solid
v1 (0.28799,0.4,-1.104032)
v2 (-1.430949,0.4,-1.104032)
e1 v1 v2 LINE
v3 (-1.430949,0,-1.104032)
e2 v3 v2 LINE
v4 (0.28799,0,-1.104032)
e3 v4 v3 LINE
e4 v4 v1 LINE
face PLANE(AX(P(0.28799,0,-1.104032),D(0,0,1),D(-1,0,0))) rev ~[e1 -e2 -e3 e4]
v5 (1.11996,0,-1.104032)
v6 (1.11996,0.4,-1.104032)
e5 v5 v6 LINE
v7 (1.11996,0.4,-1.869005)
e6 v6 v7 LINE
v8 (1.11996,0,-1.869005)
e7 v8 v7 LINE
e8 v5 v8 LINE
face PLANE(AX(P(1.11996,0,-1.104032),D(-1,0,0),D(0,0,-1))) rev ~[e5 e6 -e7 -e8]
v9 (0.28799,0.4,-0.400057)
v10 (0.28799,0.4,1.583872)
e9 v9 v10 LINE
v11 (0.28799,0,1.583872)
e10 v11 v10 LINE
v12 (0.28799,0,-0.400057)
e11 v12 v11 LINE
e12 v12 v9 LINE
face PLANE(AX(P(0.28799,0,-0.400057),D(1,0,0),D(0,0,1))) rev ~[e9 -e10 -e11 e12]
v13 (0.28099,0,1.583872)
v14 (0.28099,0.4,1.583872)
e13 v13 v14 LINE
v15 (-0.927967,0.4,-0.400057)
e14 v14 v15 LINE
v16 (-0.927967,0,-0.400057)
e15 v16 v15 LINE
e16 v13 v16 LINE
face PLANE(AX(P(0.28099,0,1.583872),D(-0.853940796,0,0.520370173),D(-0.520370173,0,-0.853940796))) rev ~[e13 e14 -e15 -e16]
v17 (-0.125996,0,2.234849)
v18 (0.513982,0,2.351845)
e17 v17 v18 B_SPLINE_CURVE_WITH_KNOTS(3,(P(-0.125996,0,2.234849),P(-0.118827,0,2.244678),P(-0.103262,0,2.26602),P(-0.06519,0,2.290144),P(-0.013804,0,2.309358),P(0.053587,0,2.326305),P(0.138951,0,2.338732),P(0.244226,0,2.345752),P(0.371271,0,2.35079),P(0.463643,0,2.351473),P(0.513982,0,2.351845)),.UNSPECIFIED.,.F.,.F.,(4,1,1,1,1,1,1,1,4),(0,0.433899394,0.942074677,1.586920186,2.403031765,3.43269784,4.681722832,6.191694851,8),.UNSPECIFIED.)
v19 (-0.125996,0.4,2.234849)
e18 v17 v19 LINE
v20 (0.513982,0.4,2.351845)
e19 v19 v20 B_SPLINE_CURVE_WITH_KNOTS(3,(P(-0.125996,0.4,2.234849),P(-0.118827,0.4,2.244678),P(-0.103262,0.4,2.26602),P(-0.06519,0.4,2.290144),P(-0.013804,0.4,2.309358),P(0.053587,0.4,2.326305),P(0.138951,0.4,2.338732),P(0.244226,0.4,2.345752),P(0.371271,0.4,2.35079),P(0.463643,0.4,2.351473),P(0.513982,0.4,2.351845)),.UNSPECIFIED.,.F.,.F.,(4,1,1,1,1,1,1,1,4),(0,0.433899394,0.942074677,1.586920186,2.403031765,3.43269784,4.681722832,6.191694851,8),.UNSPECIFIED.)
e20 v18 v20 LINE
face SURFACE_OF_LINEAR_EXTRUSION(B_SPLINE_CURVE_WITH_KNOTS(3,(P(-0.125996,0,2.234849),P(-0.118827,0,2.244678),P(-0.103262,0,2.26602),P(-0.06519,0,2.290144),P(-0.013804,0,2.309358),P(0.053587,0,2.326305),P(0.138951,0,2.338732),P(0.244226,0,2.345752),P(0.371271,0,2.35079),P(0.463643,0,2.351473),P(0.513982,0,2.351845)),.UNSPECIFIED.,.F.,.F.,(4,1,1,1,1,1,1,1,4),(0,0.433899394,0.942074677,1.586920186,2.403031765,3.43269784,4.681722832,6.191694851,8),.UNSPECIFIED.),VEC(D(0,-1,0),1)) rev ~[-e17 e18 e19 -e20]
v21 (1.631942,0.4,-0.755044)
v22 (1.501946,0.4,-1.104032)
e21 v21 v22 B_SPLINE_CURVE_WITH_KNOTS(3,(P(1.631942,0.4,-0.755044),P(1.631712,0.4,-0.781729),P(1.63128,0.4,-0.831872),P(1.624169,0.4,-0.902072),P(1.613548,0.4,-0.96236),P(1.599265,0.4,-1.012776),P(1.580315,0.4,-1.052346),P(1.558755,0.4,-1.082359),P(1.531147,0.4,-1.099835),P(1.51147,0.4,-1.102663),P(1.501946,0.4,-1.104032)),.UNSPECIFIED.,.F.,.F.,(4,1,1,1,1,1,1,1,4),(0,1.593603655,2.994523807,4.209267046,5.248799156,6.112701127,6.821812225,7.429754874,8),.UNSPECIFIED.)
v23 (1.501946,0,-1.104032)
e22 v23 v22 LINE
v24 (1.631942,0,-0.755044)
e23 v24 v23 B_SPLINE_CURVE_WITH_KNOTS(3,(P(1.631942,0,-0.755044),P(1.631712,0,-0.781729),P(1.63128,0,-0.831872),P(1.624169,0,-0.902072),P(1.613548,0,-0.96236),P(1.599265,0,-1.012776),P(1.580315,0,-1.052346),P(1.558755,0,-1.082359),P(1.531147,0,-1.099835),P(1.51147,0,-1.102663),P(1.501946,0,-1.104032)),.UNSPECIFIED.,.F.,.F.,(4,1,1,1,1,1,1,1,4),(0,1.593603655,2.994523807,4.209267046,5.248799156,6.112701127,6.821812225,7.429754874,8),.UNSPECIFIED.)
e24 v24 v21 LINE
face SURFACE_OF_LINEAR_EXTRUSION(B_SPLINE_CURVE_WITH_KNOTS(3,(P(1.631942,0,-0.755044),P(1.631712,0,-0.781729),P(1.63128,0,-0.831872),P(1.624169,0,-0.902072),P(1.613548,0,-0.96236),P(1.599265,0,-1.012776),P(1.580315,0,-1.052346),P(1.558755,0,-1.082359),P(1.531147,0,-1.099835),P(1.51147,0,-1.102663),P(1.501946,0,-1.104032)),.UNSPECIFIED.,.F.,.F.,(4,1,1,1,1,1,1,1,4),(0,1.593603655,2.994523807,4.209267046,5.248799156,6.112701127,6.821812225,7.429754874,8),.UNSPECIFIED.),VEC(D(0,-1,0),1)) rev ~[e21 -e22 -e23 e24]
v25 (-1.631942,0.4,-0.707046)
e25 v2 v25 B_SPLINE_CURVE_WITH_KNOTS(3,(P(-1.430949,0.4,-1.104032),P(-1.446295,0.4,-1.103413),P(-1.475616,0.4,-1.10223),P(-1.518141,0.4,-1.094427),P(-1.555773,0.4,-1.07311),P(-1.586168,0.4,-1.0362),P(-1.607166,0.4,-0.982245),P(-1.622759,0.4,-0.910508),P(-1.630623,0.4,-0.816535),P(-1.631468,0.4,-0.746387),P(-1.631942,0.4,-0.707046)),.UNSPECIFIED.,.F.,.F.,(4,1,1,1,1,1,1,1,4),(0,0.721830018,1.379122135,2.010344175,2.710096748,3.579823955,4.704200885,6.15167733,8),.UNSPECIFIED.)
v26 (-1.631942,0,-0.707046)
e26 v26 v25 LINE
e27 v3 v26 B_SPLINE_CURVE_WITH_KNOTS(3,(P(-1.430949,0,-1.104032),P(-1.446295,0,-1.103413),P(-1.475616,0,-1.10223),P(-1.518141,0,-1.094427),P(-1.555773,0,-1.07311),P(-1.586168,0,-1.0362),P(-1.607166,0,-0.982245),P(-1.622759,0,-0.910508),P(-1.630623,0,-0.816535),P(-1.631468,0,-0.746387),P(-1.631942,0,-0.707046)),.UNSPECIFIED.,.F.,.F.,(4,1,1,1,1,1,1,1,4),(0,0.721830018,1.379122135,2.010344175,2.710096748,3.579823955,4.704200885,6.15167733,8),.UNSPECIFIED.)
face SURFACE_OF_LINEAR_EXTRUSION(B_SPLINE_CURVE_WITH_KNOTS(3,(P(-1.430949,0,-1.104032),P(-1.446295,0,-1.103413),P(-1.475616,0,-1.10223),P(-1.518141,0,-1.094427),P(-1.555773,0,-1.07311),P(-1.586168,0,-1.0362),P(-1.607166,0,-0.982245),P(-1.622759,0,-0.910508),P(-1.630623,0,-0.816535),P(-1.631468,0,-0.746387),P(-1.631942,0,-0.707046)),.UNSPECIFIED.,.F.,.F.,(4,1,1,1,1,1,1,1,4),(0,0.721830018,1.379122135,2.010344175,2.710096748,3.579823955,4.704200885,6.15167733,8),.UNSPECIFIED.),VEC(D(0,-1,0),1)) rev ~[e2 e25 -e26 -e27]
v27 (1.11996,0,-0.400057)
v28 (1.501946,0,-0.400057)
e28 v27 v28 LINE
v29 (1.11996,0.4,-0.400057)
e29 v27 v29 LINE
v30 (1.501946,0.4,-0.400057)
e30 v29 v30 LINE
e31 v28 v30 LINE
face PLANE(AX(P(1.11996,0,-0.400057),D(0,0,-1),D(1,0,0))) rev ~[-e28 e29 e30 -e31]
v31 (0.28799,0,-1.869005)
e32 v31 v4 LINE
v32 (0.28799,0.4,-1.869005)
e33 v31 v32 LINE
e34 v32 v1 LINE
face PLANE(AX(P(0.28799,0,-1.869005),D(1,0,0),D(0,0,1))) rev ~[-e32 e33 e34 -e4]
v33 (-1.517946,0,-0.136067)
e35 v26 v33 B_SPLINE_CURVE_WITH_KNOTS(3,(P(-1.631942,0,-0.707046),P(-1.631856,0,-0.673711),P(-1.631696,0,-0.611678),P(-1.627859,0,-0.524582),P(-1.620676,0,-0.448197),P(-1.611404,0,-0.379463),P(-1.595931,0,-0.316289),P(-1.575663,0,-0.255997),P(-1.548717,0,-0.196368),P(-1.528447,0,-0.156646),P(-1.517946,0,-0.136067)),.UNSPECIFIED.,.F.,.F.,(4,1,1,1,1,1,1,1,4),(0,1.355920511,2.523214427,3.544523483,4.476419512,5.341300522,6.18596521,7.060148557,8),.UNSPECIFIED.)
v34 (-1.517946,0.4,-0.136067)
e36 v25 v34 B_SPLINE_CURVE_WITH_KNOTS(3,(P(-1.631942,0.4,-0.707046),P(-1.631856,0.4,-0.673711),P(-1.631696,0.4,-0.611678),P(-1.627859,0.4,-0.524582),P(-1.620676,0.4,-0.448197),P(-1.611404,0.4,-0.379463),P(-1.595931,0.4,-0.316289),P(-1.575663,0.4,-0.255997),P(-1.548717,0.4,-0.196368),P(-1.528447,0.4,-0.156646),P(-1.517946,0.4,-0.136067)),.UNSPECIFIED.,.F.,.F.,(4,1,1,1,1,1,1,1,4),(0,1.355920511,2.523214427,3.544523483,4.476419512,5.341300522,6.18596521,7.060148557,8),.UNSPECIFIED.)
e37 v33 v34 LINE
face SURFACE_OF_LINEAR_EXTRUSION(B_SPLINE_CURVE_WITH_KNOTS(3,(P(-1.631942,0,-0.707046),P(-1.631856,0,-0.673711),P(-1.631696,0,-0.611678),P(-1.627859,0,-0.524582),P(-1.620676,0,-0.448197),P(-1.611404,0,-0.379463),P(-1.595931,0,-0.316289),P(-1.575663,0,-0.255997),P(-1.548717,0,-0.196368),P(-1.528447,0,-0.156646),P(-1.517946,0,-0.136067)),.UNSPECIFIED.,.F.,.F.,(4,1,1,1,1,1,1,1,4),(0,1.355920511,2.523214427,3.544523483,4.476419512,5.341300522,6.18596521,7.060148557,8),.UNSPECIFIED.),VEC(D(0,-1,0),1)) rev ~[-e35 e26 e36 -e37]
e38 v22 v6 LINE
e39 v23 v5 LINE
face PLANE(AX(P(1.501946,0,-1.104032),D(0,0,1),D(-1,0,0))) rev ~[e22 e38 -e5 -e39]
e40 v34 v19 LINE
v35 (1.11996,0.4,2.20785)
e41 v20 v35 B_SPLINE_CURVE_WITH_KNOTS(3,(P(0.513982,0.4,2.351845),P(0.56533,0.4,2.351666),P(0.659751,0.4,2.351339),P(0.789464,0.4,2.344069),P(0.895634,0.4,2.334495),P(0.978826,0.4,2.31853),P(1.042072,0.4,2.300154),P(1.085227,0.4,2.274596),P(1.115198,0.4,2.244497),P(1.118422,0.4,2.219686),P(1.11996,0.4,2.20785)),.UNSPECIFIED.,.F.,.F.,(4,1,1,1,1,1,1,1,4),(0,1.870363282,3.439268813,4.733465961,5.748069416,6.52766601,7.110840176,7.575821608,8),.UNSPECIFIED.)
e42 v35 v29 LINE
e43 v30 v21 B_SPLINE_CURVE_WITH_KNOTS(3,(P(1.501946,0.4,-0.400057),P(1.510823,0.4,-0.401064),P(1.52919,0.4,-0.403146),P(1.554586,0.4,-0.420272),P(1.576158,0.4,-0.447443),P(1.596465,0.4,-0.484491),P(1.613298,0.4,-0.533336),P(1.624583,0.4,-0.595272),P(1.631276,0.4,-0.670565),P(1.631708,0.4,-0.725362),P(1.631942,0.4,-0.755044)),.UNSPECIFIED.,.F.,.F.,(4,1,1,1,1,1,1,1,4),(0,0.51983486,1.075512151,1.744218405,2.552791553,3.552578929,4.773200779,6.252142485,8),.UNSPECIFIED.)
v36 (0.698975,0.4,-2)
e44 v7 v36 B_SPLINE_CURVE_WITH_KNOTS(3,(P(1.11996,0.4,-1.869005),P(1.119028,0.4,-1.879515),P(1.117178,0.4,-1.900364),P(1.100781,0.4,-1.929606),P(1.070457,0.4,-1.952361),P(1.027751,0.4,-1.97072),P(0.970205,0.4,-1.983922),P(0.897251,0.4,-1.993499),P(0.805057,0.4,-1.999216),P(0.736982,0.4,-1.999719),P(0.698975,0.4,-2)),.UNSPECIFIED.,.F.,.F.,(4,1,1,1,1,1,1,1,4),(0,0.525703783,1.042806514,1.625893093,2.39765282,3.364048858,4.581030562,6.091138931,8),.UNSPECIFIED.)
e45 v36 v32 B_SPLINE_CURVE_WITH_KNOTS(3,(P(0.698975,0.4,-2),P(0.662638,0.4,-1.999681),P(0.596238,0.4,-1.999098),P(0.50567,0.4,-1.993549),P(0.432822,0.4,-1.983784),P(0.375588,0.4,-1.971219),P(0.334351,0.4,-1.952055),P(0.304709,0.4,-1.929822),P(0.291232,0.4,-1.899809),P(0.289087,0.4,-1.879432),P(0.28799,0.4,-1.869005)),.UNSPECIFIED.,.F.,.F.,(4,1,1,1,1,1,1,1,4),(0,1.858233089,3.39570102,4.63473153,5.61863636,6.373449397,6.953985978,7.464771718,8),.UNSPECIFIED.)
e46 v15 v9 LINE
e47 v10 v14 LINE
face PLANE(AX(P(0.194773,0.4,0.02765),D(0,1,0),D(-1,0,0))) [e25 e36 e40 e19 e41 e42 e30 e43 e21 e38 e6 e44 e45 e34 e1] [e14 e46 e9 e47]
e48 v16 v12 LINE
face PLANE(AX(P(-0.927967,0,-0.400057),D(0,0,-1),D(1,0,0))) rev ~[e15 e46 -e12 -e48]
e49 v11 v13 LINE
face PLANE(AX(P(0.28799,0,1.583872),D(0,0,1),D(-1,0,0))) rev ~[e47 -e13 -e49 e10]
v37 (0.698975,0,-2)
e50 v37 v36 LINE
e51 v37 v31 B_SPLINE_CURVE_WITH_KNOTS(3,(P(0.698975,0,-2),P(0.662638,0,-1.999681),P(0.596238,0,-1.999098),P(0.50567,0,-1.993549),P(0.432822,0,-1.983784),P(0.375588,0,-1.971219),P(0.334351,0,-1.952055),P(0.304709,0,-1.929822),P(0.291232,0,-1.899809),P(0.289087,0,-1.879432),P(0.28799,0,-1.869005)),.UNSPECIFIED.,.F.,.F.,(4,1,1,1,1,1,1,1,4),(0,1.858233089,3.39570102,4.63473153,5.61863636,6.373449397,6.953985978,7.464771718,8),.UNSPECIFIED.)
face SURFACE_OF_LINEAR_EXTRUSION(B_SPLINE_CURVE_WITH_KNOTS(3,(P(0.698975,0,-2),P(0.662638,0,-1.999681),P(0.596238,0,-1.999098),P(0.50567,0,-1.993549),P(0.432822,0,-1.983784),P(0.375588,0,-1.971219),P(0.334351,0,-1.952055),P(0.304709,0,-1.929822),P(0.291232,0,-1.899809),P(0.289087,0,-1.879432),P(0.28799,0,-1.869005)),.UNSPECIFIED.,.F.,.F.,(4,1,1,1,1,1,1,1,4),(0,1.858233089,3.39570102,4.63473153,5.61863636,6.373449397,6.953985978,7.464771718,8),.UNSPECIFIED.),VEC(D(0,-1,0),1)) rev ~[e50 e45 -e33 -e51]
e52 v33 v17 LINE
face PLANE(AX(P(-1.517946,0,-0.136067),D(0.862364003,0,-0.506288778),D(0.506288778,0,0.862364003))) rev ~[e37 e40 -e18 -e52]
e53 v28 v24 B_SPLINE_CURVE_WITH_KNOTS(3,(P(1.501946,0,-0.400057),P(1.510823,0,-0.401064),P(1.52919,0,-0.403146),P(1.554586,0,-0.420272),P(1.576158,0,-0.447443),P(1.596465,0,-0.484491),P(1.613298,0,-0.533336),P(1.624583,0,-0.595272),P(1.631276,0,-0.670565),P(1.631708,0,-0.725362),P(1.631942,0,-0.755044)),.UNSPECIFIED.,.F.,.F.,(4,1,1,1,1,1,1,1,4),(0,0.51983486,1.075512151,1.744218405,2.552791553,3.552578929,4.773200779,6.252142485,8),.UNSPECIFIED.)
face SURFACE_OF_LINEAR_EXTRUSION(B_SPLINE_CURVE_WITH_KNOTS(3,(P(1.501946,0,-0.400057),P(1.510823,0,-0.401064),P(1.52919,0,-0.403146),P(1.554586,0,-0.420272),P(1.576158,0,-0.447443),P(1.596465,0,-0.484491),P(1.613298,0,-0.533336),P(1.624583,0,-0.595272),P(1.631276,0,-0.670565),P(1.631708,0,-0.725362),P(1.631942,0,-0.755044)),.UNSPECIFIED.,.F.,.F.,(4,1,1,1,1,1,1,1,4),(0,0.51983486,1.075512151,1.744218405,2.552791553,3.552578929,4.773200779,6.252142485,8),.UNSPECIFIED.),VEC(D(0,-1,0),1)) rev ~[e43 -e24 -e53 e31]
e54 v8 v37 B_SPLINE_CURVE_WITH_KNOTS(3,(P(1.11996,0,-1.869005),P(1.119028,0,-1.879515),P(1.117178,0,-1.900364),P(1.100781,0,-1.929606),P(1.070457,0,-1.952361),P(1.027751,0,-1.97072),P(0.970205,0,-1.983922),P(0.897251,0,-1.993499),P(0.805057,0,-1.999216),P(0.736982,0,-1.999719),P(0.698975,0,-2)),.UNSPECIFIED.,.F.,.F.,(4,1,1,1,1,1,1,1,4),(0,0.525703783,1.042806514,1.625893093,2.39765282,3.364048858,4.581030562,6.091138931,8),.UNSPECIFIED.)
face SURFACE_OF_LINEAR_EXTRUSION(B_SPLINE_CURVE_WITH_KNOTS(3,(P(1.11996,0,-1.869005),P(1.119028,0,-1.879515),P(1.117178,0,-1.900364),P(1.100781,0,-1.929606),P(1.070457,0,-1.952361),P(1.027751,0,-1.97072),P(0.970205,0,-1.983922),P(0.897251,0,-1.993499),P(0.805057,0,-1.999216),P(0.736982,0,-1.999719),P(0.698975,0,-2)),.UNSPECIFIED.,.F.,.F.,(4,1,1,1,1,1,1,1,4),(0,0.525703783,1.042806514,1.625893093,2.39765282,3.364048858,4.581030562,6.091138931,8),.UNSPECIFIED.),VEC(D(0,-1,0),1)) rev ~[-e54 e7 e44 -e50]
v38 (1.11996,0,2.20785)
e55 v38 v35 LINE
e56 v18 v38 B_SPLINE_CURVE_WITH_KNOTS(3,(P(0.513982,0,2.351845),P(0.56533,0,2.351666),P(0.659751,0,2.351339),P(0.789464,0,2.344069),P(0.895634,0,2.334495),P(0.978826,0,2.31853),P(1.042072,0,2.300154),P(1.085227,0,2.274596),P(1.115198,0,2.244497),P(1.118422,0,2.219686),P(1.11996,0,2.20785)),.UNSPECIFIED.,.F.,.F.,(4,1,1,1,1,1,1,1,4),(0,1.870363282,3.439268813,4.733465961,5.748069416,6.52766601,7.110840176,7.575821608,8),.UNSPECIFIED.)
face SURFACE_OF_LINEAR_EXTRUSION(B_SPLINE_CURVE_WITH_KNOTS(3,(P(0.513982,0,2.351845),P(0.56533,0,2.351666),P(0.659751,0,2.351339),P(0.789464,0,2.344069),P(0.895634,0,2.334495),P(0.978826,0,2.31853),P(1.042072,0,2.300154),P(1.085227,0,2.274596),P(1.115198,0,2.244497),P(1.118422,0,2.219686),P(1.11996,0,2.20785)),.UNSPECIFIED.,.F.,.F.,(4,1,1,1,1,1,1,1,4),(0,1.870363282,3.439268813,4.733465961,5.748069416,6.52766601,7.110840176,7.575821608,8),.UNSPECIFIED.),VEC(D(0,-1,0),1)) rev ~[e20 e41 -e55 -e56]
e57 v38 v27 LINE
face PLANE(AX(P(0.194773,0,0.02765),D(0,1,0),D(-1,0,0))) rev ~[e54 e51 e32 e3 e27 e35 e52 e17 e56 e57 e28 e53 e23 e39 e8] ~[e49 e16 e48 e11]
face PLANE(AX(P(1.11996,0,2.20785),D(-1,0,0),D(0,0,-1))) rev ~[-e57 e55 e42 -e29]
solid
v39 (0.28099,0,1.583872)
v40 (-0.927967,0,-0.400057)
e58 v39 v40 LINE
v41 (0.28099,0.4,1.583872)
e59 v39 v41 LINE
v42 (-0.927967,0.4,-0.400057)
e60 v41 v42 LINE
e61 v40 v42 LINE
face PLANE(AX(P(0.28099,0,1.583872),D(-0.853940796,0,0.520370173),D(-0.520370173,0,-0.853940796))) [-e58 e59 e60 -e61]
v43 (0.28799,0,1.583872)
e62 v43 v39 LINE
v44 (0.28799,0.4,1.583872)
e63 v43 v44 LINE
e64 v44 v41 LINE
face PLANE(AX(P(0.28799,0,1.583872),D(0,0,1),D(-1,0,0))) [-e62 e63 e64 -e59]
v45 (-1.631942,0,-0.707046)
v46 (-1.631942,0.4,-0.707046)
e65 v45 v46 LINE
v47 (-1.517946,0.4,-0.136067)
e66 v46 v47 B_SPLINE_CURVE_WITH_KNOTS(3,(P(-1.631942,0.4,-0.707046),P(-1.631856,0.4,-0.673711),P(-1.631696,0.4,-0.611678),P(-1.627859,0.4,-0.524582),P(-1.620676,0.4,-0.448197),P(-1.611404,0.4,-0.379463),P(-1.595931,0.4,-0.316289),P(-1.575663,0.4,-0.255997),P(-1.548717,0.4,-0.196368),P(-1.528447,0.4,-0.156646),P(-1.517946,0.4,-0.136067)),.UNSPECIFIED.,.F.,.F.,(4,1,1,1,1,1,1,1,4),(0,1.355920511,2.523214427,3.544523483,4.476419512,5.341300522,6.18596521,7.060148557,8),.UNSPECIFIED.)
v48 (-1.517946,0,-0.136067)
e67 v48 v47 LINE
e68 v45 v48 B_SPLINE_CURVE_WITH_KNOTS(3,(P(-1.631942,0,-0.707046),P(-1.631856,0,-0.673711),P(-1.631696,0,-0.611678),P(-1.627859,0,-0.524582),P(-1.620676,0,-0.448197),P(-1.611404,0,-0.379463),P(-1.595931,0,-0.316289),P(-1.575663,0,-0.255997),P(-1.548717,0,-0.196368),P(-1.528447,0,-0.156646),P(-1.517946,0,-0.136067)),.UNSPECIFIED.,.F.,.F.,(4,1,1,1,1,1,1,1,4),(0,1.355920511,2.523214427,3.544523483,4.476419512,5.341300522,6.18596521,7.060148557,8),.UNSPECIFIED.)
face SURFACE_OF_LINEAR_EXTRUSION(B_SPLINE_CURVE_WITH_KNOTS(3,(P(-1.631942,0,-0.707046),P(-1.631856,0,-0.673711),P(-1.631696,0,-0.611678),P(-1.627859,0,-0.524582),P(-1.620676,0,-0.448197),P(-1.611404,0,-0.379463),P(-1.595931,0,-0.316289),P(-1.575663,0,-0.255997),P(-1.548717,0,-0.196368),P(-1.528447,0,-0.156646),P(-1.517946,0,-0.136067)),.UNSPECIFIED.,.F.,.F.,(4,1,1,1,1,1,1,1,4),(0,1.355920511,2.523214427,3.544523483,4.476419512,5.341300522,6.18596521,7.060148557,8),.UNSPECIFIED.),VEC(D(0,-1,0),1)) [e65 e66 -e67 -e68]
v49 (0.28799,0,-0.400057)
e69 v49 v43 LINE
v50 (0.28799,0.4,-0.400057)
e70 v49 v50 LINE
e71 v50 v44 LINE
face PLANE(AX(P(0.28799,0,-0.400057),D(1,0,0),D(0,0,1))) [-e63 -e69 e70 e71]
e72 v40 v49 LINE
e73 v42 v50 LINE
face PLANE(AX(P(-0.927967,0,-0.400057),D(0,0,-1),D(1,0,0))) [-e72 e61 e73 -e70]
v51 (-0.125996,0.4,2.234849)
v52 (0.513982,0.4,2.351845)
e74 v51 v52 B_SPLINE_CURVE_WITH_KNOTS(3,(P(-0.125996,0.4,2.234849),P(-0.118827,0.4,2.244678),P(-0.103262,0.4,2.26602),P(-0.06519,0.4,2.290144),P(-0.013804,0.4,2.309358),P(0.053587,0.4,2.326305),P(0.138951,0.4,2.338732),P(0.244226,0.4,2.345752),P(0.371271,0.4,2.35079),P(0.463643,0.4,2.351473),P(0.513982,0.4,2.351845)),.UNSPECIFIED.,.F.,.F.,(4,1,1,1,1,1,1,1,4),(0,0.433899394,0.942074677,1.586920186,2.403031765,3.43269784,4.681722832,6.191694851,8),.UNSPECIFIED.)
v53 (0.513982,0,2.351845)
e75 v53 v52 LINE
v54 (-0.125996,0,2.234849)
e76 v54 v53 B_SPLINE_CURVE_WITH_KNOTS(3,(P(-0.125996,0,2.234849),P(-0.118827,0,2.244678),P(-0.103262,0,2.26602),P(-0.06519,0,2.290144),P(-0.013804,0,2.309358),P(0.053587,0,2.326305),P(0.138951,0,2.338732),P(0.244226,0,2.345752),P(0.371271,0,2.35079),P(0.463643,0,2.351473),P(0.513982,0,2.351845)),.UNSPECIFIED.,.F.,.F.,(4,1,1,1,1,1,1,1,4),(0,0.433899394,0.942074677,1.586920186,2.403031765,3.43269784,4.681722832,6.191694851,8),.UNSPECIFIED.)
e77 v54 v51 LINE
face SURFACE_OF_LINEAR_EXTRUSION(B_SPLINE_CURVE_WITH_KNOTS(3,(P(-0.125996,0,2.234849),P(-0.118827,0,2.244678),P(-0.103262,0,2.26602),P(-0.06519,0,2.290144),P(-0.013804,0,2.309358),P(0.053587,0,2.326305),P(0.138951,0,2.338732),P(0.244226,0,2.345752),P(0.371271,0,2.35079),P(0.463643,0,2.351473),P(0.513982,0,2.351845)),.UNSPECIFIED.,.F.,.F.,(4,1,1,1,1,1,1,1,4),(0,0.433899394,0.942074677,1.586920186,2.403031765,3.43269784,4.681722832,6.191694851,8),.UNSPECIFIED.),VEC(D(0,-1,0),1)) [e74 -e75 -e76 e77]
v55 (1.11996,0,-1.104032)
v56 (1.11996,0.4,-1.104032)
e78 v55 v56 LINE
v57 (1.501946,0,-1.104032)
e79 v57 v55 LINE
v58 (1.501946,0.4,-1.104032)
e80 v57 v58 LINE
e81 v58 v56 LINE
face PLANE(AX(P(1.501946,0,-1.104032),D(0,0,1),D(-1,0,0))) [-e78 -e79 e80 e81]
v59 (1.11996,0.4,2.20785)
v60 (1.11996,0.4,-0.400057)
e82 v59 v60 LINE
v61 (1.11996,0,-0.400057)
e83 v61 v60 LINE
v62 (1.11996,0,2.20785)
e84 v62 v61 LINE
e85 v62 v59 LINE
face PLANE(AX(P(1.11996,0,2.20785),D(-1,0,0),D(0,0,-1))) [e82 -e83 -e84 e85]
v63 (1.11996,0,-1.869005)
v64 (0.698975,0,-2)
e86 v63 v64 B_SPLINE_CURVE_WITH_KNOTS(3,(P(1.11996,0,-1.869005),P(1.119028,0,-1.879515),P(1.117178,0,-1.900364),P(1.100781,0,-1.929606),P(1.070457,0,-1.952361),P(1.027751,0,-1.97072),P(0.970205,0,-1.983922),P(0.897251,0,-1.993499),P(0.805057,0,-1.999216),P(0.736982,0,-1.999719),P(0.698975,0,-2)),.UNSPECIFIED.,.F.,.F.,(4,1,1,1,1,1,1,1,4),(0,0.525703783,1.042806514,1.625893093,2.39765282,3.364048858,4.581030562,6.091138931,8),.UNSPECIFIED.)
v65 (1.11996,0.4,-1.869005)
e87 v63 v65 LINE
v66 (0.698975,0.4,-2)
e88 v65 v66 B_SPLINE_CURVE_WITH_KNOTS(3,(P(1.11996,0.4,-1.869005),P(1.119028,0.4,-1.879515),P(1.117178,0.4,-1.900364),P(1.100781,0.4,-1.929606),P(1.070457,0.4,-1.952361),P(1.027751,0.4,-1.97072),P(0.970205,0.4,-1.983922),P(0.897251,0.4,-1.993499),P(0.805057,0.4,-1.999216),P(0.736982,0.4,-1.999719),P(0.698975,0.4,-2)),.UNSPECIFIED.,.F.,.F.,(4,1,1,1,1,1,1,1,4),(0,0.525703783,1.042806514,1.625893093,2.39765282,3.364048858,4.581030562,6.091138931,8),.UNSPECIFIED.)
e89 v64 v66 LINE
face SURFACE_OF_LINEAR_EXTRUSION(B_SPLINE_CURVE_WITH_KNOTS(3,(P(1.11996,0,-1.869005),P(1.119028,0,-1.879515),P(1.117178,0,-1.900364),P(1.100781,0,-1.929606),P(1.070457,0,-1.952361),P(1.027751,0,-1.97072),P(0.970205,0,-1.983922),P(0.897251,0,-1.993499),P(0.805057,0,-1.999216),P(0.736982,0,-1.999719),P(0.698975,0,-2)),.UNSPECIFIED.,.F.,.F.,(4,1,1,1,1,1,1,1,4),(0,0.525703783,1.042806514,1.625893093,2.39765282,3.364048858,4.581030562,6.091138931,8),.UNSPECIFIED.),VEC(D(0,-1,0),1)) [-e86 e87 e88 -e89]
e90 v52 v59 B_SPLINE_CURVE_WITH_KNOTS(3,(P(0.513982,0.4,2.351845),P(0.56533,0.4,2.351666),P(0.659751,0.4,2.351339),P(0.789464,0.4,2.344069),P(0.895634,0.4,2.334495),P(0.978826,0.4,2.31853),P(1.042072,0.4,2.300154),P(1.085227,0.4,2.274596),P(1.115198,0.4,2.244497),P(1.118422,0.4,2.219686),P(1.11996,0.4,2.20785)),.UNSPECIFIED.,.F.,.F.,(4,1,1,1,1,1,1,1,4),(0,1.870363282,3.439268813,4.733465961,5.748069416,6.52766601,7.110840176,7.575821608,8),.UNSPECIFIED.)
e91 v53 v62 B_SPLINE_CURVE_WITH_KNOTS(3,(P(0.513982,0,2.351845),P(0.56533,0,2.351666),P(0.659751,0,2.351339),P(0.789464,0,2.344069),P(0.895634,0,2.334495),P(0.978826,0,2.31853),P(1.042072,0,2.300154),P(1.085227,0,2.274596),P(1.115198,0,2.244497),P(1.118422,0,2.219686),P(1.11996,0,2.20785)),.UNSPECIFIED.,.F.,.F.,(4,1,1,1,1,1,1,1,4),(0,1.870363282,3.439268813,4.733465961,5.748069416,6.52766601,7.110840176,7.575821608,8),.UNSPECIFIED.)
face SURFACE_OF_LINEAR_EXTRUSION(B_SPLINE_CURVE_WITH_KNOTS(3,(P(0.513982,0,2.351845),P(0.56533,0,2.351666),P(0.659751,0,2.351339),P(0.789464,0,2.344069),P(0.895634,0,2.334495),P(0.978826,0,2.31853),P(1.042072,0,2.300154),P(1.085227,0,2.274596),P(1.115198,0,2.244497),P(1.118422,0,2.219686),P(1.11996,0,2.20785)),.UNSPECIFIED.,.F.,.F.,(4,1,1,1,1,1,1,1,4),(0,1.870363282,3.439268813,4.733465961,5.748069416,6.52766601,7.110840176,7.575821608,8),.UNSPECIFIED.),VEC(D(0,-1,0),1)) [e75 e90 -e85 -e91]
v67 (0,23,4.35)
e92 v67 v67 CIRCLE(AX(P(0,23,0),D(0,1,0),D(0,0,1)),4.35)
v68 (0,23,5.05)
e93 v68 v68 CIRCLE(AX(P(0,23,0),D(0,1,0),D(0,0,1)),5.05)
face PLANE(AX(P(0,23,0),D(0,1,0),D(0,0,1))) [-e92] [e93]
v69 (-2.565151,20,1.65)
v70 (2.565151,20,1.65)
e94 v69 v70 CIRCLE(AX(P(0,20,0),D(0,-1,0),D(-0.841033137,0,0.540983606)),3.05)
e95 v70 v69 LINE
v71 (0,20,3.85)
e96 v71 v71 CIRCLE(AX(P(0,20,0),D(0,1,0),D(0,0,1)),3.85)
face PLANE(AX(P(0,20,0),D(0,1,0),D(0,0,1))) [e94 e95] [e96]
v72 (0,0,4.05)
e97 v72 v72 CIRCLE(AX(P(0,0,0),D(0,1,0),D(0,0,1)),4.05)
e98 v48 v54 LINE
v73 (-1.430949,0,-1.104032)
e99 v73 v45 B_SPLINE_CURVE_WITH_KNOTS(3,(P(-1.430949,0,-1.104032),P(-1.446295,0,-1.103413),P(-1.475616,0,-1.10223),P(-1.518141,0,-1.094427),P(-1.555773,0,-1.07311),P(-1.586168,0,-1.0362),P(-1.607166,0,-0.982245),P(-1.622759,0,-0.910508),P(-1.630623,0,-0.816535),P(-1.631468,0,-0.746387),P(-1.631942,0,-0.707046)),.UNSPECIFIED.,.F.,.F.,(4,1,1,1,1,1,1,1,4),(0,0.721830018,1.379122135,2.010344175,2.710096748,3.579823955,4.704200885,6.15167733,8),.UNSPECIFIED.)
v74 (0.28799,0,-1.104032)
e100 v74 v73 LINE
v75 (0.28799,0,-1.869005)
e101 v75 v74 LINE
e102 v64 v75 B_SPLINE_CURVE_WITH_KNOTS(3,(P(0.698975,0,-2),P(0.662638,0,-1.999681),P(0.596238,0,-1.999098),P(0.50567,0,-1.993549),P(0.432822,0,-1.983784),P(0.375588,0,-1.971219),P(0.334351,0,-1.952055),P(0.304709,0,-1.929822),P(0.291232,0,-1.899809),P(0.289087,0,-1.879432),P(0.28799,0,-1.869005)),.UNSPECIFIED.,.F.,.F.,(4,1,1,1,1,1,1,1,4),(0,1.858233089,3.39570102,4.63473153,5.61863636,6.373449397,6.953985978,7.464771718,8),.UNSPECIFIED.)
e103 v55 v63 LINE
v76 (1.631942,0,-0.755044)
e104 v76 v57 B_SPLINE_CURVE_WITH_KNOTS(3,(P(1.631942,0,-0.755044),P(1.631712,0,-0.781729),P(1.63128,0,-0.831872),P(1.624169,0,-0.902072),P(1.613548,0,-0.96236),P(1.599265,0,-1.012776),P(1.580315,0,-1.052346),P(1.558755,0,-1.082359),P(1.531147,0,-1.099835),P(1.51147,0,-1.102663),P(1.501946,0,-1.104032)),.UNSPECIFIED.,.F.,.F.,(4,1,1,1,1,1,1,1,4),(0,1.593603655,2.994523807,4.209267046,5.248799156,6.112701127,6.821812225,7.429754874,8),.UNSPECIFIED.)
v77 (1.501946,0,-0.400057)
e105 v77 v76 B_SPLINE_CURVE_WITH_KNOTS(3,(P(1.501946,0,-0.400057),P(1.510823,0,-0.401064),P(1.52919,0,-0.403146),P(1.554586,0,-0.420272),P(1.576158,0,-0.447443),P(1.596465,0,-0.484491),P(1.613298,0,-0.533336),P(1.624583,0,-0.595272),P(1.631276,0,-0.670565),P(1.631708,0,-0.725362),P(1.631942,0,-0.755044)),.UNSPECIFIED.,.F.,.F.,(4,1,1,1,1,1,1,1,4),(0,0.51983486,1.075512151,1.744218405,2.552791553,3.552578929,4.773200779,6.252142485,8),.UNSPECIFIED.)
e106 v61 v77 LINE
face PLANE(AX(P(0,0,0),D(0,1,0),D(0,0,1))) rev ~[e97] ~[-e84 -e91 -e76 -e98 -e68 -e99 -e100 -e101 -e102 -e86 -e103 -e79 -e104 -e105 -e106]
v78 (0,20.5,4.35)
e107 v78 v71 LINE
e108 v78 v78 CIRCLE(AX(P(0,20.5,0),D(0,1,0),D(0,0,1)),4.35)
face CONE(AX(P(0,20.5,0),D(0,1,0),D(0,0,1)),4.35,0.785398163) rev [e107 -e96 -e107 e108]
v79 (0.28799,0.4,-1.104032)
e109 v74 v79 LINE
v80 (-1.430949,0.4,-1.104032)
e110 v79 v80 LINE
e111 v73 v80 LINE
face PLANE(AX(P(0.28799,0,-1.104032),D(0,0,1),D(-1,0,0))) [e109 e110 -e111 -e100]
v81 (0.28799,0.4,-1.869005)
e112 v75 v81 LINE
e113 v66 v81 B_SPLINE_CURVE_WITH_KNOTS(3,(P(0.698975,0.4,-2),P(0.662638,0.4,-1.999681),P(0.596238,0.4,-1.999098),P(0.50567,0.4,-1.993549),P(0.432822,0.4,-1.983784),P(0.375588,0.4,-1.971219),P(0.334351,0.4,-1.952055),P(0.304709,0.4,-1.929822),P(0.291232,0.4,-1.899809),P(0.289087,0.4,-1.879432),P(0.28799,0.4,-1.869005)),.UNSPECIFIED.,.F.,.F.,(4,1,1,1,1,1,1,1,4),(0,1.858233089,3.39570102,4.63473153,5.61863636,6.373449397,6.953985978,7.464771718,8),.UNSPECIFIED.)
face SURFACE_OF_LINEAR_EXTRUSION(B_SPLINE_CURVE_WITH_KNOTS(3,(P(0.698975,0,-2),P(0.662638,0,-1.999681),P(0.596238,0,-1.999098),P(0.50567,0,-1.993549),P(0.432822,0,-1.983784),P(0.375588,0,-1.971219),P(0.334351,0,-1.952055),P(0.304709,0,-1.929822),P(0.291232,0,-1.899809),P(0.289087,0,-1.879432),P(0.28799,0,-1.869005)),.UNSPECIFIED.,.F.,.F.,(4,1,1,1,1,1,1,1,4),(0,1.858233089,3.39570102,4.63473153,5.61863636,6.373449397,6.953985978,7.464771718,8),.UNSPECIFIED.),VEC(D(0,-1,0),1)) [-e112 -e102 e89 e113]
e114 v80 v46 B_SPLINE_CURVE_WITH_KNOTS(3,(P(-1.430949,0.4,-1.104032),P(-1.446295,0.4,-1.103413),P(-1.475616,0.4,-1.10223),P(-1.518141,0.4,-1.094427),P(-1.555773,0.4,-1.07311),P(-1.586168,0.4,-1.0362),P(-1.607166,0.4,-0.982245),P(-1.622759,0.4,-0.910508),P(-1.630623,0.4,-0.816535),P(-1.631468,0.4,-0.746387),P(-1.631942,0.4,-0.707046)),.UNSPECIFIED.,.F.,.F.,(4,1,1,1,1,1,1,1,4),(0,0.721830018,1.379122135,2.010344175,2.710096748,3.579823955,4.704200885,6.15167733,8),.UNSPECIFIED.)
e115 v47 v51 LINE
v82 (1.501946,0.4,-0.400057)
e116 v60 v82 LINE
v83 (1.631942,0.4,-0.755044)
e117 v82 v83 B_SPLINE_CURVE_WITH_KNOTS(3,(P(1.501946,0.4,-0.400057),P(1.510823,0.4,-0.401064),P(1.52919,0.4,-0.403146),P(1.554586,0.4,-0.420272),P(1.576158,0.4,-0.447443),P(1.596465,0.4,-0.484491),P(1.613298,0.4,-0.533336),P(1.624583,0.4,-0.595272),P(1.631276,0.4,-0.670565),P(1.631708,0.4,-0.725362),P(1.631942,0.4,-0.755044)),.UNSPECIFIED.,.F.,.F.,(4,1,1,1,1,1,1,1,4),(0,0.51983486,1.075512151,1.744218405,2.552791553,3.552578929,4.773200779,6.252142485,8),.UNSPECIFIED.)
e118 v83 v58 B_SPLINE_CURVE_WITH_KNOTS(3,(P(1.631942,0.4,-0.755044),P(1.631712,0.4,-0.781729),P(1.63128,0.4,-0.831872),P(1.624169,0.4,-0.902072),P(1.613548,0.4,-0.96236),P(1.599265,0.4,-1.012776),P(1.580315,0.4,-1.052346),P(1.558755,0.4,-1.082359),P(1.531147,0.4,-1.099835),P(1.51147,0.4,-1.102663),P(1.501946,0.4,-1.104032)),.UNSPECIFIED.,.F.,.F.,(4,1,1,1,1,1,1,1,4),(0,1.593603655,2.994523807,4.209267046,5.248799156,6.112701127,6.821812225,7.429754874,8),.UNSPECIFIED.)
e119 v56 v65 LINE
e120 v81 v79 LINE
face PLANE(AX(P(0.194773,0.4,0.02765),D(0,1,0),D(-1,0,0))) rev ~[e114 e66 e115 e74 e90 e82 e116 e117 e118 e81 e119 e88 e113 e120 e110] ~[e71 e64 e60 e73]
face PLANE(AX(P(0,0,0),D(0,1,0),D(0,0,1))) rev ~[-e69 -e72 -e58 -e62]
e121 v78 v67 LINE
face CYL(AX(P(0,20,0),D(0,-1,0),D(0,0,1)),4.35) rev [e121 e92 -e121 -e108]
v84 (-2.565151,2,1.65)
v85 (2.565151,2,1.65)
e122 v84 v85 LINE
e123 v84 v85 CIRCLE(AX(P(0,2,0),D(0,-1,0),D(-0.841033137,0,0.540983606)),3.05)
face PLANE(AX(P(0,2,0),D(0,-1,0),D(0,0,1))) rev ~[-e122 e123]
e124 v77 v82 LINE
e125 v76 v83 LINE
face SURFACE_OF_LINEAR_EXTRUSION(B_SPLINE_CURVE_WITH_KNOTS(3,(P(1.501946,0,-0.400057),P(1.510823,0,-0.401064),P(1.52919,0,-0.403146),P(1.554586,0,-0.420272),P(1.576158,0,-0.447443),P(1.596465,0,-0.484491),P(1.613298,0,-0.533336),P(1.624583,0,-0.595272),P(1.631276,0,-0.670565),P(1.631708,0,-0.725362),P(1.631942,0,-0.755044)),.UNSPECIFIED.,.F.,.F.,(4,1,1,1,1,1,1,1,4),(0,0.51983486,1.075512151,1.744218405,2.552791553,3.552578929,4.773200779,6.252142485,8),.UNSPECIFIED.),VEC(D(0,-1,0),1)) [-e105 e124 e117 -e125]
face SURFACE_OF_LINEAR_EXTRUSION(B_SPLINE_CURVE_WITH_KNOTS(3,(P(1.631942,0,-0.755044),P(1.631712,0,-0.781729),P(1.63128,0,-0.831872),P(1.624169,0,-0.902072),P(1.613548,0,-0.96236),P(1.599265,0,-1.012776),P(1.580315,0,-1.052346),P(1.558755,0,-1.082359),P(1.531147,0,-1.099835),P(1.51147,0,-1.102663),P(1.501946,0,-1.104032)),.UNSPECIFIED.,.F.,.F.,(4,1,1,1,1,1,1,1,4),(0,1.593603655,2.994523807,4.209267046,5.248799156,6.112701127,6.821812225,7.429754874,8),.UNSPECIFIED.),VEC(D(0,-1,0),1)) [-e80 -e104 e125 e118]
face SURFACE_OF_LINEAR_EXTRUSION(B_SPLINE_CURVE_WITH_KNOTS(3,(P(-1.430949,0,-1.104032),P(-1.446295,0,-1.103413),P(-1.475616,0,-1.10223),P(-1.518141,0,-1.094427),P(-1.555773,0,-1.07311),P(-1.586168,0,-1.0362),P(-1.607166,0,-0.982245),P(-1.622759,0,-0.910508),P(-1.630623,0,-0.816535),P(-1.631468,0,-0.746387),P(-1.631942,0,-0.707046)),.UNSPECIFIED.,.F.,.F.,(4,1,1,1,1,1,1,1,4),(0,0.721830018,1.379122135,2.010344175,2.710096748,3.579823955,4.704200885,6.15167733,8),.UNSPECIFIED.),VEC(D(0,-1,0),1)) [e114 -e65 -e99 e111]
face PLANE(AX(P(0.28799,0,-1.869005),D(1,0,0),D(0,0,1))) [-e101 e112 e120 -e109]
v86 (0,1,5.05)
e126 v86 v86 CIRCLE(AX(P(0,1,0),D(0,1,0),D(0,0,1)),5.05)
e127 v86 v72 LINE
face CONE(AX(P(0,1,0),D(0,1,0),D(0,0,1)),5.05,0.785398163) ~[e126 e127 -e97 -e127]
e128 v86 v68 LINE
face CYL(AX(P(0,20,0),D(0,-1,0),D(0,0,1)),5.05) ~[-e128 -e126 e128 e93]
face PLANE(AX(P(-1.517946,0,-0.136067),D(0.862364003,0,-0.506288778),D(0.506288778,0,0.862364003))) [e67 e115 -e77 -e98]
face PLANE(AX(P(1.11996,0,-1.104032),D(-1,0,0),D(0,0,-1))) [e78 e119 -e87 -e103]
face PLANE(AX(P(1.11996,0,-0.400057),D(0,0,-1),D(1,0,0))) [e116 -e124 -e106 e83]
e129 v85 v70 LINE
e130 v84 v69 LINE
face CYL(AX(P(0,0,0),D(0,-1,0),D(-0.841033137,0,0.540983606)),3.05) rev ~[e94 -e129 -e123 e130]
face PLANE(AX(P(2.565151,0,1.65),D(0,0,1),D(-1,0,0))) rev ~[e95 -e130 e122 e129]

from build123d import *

# Parameters (mm, degrees)
SKETCH1_R           = 5.05
BOSS_EXTRUDE1_DEPTH = 20
SKETCH2_R           = 5.05
BOSS_EXTRUDE2_DEPTH = 2
SKETCH4_R           = 5.05
SKETCH4_R_2         = 4.35
BOSS_EXTRUDE3_DEPTH = 3
CHAMFER1_SIZE       = 1
CHAMFER2_SIZE       = 0.5
CUT_EXTRUDE1_DEPTH  = 0.4
BOSS_EXTRUDE4_DEPTH = 0.4


with BuildPart() as part:
    # Sketch1 → Boss-Extrude1 (new body)
    with BuildSketch(Plane(origin=(0, 0, 0), x_dir=(1, 0, 0), z_dir=(0, 1, 0))):
        Circle(SKETCH1_R)
        with BuildLine():
            Line((2.565151068, -1.65), (-2.565151068, -1.65))
            ThreePointArc((-2.565151068, -1.65), (0, 3.05), (2.565151068, -1.65))
        make_face(mode=Mode.SUBTRACT)
    extrude(amount=BOSS_EXTRUDE1_DEPTH)

    # Sketch2 → Boss-Extrude2 (add)
    with BuildSketch(Plane.XZ):
        Circle(SKETCH2_R)
    extrude(amount=-BOSS_EXTRUDE2_DEPTH)

    # Sketch4 → Boss-Extrude3 (add)
    with BuildSketch(Plane(origin=(0, 20, 0), x_dir=(1, 0, 0), z_dir=(0, 1, 0))):
        Circle(SKETCH4_R)
        Circle(SKETCH4_R_2, mode=Mode.SUBTRACT)
    extrude(amount=BOSS_EXTRUDE3_DEPTH)

    # Chamfer1
    chamfer1_edges = [part.edges().sort_by_distance(p)[0] for p in [
        (-5.05, 0, 0),
    ]]
    chamfer(chamfer1_edges, length=CHAMFER1_SIZE)

    # Chamfer2
    chamfer2_edges = [part.edges().sort_by_distance(p)[0] for p in [
        (-4.35, 20, 0),
    ]]
    chamfer(chamfer2_edges, length=CHAMFER2_SIZE)

    # Sketch5 → Cut-Extrude1 (cut)
    with BuildSketch(Plane.XZ):
        with BuildLine():
            add(Edge.make_bspline(
                [(1.631941732, -0.755044451), (1.631711834, -0.781729287), (1.631279836, -0.83187248), (1.624169455, -0.902071791), (1.61354776, -0.962360211), (1.59926486, -1.012775634), (1.580315281, -1.052346406), (1.558755386, -1.082359327), (1.53114696, -1.099834777), (1.51147004, -1.102663084), (1.501946373, -1.10403199)],
                knots=[0, 0, 0, 0, 1.593603655, 2.994523807, 4.209267046, 5.248799156, 6.112701127, 6.821812225, 7.429754874, 8, 8, 8, 8], degree=3))
            Line((1.501946373, -1.10403199), (1.119960012, -1.10403199))
            Line((1.119960012, -1.10403199), (1.119960012, -1.869004677))
            add(Edge.make_bspline(
                [(1.119960012, -1.869004677), (1.1190276, -1.879514942), (1.11717803, -1.900363512), (1.100781449, -1.929606387), (1.070457056, -1.952360817), (1.02775066, -1.970719903), (0.970204741, -1.983922011), (0.897251108, -1.993498632), (0.805057261, -1.999216421), (0.736982299, -1.999719258), (0.698975043, -2)],
                knots=[0, 0, 0, 0, 0.525703783, 1.042806514, 1.625893093, 2.39765282, 3.364048858, 4.581030562, 6.091138931, 8, 8, 8, 8], degree=3))
            add(Edge.make_bspline(
                [(0.698975043, -2), (0.662638483, -1.999680966), (0.596237721, -1.99909797), (0.505670365, -1.993549267), (0.432822332, -1.9837837), (0.375587998, -1.97121932), (0.334351205, -1.952054514), (0.304709495, -1.929821711), (0.291231595, -1.899809452), (0.289087047, -1.87943166), (0.287989717, -1.869004677)],
                knots=[0, 0, 0, 0, 1.858233089, 3.39570102, 4.63473153, 5.61863636, 6.373449397, 6.953985978, 7.464771718, 8, 8, 8, 8], degree=3))
            Line((0.287989717, -1.869004677), (0.287989717, -1.10403199))
            Line((0.287989717, -1.10403199), (-1.430948908, -1.10403199))
            add(Edge.make_bspline(
                [(-1.430948908, -1.10403199), (-1.446295186, -1.103412765), (-1.475615652, -1.102229679), (-1.518140665, -1.094427216), (-1.555773037, -1.073109541), (-1.58616843, -1.036199626), (-1.607165622, -0.982245201), (-1.622758573, -0.910508327), (-1.630623202, -0.816535459), (-1.631467974, -0.746386513), (-1.631941732, -0.707046165)],
                knots=[0, 0, 0, 0, 0.721830018, 1.379122135, 2.010344175, 2.710096748, 3.579823955, 4.704200885, 6.15167733, 8, 8, 8, 8], degree=3))
            add(Edge.make_bspline(
                [(-1.631941732, -0.707046165), (-1.631855992, -0.673710867), (-1.63169644, -0.611677654), (-1.627859181, -0.524581605), (-1.620675539, -0.448197107), (-1.61140423, -0.379463469), (-1.595930544, -0.316289463), (-1.575663182, -0.255996569), (-1.54871653, -0.196367872), (-1.528447294, -0.156646299), (-1.517945802, -0.136066551)],
                knots=[0, 0, 0, 0, 1.355920511, 2.523214427, 3.544523483, 4.476419512, 5.341300522, 6.18596521, 7.060148557, 8, 8, 8, 8], degree=3))
            Line((-1.517945802, -0.136066551), (-0.125995501, 2.234848795))
            add(Edge.make_bspline(
                [(-0.125995501, 2.234848795), (-0.118826649, 2.244678179), (-0.103261763, 2.266019564), (-0.065190235, 2.290144018), (-0.013803763, 2.309357894), (0.053587112, 2.326305114), (0.138951007, 2.338732104), (0.244225735, 2.345752456), (0.371271055, 2.350790371), (0.46364318, 2.351472752), (0.513981648, 2.351844618)],
                knots=[0, 0, 0, 0, 0.433899394, 0.942074677, 1.586920186, 2.403031765, 3.43269784, 4.681722832, 6.191694851, 8, 8, 8, 8], degree=3))
            add(Edge.make_bspline(
                [(0.513981648, 2.351844618), (0.565330252, 2.351666334), (0.659751295, 2.351338501), (0.789464206, 2.344069356), (0.895633515, 2.33449455), (0.978826037, 2.318529599), (1.042071686, 2.300153794), (1.085226569, 2.274596454), (1.115197825, 2.244496698), (1.118421934, 2.219685887), (1.119960012, 2.207849759)],
                knots=[0, 0, 0, 0, 1.870363282, 3.439268813, 4.733465961, 5.748069416, 6.52766601, 7.110840176, 7.575821608, 8, 8, 8, 8], degree=3))
            Line((1.119960012, 2.207849759), (1.119960012, -0.400057126))
            Line((1.119960012, -0.400057126), (1.501946373, -0.400057126))
            add(Edge.make_bspline(
                [(1.501946373, -0.400057126), (1.510823484, -0.401063547), (1.529189779, -0.403145781), (1.554586269, -0.420271717), (1.576158449, -0.44744336), (1.596465382, -0.484491265), (1.613298175, -0.533336076), (1.624583151, -0.595271866), (1.631275777, -0.67056467), (1.631707747, -0.725362278), (1.631941732, -0.755044451)],
                knots=[0, 0, 0, 0, 0.51983486, 1.075512151, 1.744218405, 2.552791553, 3.552578929, 4.773200779, 6.252142485, 8, 8, 8, 8], degree=3))
        make_face()
        Polygon((0.287989717, 1.583872038), (0.280989967, 1.583872038), (-0.927966867, -0.400057126), (0.287989717, -0.400057126), align=None, mode=Mode.SUBTRACT)
    extrude(amount=-CUT_EXTRUDE1_DEPTH, mode=Mode.SUBTRACT)


with BuildPart() as body_2:
    # Sketch5<2> → Boss-Extrude4 (new body)
    with BuildSketch(Plane.XZ):
        with BuildLine():
            add(Edge.make_bspline(
                [(1.631941732, -0.755044451), (1.631711834, -0.781729287), (1.631279836, -0.83187248), (1.624169455, -0.902071791), (1.61354776, -0.962360211), (1.59926486, -1.012775634), (1.580315281, -1.052346406), (1.558755386, -1.082359327), (1.53114696, -1.099834777), (1.51147004, -1.102663084), (1.501946373, -1.10403199)],
                knots=[0, 0, 0, 0, 1.593603655, 2.994523807, 4.209267046, 5.248799156, 6.112701127, 6.821812225, 7.429754874, 8, 8, 8, 8], degree=3))
            Line((1.501946373, -1.10403199), (1.119960012, -1.10403199))
            Line((1.119960012, -1.10403199), (1.119960012, -1.869004677))
            add(Edge.make_bspline(
                [(1.119960012, -1.869004677), (1.1190276, -1.879514942), (1.11717803, -1.900363512), (1.100781449, -1.929606387), (1.070457056, -1.952360817), (1.02775066, -1.970719903), (0.970204741, -1.983922011), (0.897251108, -1.993498632), (0.805057261, -1.999216421), (0.736982299, -1.999719258), (0.698975043, -2)],
                knots=[0, 0, 0, 0, 0.525703783, 1.042806514, 1.625893093, 2.39765282, 3.364048858, 4.581030562, 6.091138931, 8, 8, 8, 8], degree=3))
            add(Edge.make_bspline(
                [(0.698975043, -2), (0.662638483, -1.999680966), (0.596237721, -1.99909797), (0.505670365, -1.993549267), (0.432822332, -1.9837837), (0.375587998, -1.97121932), (0.334351205, -1.952054514), (0.304709495, -1.929821711), (0.291231595, -1.899809452), (0.289087047, -1.87943166), (0.287989717, -1.869004677)],
                knots=[0, 0, 0, 0, 1.858233089, 3.39570102, 4.63473153, 5.61863636, 6.373449397, 6.953985978, 7.464771718, 8, 8, 8, 8], degree=3))
            Line((0.287989717, -1.869004677), (0.287989717, -1.10403199))
            Line((0.287989717, -1.10403199), (-1.430948908, -1.10403199))
            add(Edge.make_bspline(
                [(-1.430948908, -1.10403199), (-1.446295186, -1.103412765), (-1.475615652, -1.102229679), (-1.518140665, -1.094427216), (-1.555773037, -1.073109541), (-1.58616843, -1.036199626), (-1.607165622, -0.982245201), (-1.622758573, -0.910508327), (-1.630623202, -0.816535459), (-1.631467974, -0.746386513), (-1.631941732, -0.707046165)],
                knots=[0, 0, 0, 0, 0.721830018, 1.379122135, 2.010344175, 2.710096748, 3.579823955, 4.704200885, 6.15167733, 8, 8, 8, 8], degree=3))
            add(Edge.make_bspline(
                [(-1.631941732, -0.707046165), (-1.631855992, -0.673710867), (-1.63169644, -0.611677654), (-1.627859181, -0.524581605), (-1.620675539, -0.448197107), (-1.61140423, -0.379463469), (-1.595930544, -0.316289463), (-1.575663182, -0.255996569), (-1.54871653, -0.196367872), (-1.528447294, -0.156646299), (-1.517945802, -0.136066551)],
                knots=[0, 0, 0, 0, 1.355920511, 2.523214427, 3.544523483, 4.476419512, 5.341300522, 6.18596521, 7.060148557, 8, 8, 8, 8], degree=3))
            Line((-1.517945802, -0.136066551), (-0.125995501, 2.234848795))
            add(Edge.make_bspline(
                [(-0.125995501, 2.234848795), (-0.118826649, 2.244678179), (-0.103261763, 2.266019564), (-0.065190235, 2.290144018), (-0.013803763, 2.309357894), (0.053587112, 2.326305114), (0.138951007, 2.338732104), (0.244225735, 2.345752456), (0.371271055, 2.350790371), (0.46364318, 2.351472752), (0.513981648, 2.351844618)],
                knots=[0, 0, 0, 0, 0.433899394, 0.942074677, 1.586920186, 2.403031765, 3.43269784, 4.681722832, 6.191694851, 8, 8, 8, 8], degree=3))
            add(Edge.make_bspline(
                [(0.513981648, 2.351844618), (0.565330252, 2.351666334), (0.659751295, 2.351338501), (0.789464206, 2.344069356), (0.895633515, 2.33449455), (0.978826037, 2.318529599), (1.042071686, 2.300153794), (1.085226569, 2.274596454), (1.115197825, 2.244496698), (1.118421934, 2.219685887), (1.119960012, 2.207849759)],
                knots=[0, 0, 0, 0, 1.870363282, 3.439268813, 4.733465961, 5.748069416, 6.52766601, 7.110840176, 7.575821608, 8, 8, 8, 8], degree=3))
            Line((1.119960012, 2.207849759), (1.119960012, -0.400057126))
            Line((1.119960012, -0.400057126), (1.501946373, -0.400057126))
            add(Edge.make_bspline(
                [(1.501946373, -0.400057126), (1.510823484, -0.401063547), (1.529189779, -0.403145781), (1.554586269, -0.420271717), (1.576158449, -0.44744336), (1.596465382, -0.484491265), (1.613298175, -0.533336076), (1.624583151, -0.595271866), (1.631275777, -0.67056467), (1.631707747, -0.725362278), (1.631941732, -0.755044451)],
                knots=[0, 0, 0, 0, 0.51983486, 1.075512151, 1.744218405, 2.552791553, 3.552578929, 4.773200779, 6.252142485, 8, 8, 8, 8], degree=3))
        make_face()
        Polygon((0.287989717, 1.583872038), (0.280989967, 1.583872038), (-0.927966867, -0.400057126), (0.287989717, -0.400057126), align=None, mode=Mode.SUBTRACT)
    extrude(amount=-BOSS_EXTRUDE4_DEPTH)


solid = Compound([part.part, body_2.part])
